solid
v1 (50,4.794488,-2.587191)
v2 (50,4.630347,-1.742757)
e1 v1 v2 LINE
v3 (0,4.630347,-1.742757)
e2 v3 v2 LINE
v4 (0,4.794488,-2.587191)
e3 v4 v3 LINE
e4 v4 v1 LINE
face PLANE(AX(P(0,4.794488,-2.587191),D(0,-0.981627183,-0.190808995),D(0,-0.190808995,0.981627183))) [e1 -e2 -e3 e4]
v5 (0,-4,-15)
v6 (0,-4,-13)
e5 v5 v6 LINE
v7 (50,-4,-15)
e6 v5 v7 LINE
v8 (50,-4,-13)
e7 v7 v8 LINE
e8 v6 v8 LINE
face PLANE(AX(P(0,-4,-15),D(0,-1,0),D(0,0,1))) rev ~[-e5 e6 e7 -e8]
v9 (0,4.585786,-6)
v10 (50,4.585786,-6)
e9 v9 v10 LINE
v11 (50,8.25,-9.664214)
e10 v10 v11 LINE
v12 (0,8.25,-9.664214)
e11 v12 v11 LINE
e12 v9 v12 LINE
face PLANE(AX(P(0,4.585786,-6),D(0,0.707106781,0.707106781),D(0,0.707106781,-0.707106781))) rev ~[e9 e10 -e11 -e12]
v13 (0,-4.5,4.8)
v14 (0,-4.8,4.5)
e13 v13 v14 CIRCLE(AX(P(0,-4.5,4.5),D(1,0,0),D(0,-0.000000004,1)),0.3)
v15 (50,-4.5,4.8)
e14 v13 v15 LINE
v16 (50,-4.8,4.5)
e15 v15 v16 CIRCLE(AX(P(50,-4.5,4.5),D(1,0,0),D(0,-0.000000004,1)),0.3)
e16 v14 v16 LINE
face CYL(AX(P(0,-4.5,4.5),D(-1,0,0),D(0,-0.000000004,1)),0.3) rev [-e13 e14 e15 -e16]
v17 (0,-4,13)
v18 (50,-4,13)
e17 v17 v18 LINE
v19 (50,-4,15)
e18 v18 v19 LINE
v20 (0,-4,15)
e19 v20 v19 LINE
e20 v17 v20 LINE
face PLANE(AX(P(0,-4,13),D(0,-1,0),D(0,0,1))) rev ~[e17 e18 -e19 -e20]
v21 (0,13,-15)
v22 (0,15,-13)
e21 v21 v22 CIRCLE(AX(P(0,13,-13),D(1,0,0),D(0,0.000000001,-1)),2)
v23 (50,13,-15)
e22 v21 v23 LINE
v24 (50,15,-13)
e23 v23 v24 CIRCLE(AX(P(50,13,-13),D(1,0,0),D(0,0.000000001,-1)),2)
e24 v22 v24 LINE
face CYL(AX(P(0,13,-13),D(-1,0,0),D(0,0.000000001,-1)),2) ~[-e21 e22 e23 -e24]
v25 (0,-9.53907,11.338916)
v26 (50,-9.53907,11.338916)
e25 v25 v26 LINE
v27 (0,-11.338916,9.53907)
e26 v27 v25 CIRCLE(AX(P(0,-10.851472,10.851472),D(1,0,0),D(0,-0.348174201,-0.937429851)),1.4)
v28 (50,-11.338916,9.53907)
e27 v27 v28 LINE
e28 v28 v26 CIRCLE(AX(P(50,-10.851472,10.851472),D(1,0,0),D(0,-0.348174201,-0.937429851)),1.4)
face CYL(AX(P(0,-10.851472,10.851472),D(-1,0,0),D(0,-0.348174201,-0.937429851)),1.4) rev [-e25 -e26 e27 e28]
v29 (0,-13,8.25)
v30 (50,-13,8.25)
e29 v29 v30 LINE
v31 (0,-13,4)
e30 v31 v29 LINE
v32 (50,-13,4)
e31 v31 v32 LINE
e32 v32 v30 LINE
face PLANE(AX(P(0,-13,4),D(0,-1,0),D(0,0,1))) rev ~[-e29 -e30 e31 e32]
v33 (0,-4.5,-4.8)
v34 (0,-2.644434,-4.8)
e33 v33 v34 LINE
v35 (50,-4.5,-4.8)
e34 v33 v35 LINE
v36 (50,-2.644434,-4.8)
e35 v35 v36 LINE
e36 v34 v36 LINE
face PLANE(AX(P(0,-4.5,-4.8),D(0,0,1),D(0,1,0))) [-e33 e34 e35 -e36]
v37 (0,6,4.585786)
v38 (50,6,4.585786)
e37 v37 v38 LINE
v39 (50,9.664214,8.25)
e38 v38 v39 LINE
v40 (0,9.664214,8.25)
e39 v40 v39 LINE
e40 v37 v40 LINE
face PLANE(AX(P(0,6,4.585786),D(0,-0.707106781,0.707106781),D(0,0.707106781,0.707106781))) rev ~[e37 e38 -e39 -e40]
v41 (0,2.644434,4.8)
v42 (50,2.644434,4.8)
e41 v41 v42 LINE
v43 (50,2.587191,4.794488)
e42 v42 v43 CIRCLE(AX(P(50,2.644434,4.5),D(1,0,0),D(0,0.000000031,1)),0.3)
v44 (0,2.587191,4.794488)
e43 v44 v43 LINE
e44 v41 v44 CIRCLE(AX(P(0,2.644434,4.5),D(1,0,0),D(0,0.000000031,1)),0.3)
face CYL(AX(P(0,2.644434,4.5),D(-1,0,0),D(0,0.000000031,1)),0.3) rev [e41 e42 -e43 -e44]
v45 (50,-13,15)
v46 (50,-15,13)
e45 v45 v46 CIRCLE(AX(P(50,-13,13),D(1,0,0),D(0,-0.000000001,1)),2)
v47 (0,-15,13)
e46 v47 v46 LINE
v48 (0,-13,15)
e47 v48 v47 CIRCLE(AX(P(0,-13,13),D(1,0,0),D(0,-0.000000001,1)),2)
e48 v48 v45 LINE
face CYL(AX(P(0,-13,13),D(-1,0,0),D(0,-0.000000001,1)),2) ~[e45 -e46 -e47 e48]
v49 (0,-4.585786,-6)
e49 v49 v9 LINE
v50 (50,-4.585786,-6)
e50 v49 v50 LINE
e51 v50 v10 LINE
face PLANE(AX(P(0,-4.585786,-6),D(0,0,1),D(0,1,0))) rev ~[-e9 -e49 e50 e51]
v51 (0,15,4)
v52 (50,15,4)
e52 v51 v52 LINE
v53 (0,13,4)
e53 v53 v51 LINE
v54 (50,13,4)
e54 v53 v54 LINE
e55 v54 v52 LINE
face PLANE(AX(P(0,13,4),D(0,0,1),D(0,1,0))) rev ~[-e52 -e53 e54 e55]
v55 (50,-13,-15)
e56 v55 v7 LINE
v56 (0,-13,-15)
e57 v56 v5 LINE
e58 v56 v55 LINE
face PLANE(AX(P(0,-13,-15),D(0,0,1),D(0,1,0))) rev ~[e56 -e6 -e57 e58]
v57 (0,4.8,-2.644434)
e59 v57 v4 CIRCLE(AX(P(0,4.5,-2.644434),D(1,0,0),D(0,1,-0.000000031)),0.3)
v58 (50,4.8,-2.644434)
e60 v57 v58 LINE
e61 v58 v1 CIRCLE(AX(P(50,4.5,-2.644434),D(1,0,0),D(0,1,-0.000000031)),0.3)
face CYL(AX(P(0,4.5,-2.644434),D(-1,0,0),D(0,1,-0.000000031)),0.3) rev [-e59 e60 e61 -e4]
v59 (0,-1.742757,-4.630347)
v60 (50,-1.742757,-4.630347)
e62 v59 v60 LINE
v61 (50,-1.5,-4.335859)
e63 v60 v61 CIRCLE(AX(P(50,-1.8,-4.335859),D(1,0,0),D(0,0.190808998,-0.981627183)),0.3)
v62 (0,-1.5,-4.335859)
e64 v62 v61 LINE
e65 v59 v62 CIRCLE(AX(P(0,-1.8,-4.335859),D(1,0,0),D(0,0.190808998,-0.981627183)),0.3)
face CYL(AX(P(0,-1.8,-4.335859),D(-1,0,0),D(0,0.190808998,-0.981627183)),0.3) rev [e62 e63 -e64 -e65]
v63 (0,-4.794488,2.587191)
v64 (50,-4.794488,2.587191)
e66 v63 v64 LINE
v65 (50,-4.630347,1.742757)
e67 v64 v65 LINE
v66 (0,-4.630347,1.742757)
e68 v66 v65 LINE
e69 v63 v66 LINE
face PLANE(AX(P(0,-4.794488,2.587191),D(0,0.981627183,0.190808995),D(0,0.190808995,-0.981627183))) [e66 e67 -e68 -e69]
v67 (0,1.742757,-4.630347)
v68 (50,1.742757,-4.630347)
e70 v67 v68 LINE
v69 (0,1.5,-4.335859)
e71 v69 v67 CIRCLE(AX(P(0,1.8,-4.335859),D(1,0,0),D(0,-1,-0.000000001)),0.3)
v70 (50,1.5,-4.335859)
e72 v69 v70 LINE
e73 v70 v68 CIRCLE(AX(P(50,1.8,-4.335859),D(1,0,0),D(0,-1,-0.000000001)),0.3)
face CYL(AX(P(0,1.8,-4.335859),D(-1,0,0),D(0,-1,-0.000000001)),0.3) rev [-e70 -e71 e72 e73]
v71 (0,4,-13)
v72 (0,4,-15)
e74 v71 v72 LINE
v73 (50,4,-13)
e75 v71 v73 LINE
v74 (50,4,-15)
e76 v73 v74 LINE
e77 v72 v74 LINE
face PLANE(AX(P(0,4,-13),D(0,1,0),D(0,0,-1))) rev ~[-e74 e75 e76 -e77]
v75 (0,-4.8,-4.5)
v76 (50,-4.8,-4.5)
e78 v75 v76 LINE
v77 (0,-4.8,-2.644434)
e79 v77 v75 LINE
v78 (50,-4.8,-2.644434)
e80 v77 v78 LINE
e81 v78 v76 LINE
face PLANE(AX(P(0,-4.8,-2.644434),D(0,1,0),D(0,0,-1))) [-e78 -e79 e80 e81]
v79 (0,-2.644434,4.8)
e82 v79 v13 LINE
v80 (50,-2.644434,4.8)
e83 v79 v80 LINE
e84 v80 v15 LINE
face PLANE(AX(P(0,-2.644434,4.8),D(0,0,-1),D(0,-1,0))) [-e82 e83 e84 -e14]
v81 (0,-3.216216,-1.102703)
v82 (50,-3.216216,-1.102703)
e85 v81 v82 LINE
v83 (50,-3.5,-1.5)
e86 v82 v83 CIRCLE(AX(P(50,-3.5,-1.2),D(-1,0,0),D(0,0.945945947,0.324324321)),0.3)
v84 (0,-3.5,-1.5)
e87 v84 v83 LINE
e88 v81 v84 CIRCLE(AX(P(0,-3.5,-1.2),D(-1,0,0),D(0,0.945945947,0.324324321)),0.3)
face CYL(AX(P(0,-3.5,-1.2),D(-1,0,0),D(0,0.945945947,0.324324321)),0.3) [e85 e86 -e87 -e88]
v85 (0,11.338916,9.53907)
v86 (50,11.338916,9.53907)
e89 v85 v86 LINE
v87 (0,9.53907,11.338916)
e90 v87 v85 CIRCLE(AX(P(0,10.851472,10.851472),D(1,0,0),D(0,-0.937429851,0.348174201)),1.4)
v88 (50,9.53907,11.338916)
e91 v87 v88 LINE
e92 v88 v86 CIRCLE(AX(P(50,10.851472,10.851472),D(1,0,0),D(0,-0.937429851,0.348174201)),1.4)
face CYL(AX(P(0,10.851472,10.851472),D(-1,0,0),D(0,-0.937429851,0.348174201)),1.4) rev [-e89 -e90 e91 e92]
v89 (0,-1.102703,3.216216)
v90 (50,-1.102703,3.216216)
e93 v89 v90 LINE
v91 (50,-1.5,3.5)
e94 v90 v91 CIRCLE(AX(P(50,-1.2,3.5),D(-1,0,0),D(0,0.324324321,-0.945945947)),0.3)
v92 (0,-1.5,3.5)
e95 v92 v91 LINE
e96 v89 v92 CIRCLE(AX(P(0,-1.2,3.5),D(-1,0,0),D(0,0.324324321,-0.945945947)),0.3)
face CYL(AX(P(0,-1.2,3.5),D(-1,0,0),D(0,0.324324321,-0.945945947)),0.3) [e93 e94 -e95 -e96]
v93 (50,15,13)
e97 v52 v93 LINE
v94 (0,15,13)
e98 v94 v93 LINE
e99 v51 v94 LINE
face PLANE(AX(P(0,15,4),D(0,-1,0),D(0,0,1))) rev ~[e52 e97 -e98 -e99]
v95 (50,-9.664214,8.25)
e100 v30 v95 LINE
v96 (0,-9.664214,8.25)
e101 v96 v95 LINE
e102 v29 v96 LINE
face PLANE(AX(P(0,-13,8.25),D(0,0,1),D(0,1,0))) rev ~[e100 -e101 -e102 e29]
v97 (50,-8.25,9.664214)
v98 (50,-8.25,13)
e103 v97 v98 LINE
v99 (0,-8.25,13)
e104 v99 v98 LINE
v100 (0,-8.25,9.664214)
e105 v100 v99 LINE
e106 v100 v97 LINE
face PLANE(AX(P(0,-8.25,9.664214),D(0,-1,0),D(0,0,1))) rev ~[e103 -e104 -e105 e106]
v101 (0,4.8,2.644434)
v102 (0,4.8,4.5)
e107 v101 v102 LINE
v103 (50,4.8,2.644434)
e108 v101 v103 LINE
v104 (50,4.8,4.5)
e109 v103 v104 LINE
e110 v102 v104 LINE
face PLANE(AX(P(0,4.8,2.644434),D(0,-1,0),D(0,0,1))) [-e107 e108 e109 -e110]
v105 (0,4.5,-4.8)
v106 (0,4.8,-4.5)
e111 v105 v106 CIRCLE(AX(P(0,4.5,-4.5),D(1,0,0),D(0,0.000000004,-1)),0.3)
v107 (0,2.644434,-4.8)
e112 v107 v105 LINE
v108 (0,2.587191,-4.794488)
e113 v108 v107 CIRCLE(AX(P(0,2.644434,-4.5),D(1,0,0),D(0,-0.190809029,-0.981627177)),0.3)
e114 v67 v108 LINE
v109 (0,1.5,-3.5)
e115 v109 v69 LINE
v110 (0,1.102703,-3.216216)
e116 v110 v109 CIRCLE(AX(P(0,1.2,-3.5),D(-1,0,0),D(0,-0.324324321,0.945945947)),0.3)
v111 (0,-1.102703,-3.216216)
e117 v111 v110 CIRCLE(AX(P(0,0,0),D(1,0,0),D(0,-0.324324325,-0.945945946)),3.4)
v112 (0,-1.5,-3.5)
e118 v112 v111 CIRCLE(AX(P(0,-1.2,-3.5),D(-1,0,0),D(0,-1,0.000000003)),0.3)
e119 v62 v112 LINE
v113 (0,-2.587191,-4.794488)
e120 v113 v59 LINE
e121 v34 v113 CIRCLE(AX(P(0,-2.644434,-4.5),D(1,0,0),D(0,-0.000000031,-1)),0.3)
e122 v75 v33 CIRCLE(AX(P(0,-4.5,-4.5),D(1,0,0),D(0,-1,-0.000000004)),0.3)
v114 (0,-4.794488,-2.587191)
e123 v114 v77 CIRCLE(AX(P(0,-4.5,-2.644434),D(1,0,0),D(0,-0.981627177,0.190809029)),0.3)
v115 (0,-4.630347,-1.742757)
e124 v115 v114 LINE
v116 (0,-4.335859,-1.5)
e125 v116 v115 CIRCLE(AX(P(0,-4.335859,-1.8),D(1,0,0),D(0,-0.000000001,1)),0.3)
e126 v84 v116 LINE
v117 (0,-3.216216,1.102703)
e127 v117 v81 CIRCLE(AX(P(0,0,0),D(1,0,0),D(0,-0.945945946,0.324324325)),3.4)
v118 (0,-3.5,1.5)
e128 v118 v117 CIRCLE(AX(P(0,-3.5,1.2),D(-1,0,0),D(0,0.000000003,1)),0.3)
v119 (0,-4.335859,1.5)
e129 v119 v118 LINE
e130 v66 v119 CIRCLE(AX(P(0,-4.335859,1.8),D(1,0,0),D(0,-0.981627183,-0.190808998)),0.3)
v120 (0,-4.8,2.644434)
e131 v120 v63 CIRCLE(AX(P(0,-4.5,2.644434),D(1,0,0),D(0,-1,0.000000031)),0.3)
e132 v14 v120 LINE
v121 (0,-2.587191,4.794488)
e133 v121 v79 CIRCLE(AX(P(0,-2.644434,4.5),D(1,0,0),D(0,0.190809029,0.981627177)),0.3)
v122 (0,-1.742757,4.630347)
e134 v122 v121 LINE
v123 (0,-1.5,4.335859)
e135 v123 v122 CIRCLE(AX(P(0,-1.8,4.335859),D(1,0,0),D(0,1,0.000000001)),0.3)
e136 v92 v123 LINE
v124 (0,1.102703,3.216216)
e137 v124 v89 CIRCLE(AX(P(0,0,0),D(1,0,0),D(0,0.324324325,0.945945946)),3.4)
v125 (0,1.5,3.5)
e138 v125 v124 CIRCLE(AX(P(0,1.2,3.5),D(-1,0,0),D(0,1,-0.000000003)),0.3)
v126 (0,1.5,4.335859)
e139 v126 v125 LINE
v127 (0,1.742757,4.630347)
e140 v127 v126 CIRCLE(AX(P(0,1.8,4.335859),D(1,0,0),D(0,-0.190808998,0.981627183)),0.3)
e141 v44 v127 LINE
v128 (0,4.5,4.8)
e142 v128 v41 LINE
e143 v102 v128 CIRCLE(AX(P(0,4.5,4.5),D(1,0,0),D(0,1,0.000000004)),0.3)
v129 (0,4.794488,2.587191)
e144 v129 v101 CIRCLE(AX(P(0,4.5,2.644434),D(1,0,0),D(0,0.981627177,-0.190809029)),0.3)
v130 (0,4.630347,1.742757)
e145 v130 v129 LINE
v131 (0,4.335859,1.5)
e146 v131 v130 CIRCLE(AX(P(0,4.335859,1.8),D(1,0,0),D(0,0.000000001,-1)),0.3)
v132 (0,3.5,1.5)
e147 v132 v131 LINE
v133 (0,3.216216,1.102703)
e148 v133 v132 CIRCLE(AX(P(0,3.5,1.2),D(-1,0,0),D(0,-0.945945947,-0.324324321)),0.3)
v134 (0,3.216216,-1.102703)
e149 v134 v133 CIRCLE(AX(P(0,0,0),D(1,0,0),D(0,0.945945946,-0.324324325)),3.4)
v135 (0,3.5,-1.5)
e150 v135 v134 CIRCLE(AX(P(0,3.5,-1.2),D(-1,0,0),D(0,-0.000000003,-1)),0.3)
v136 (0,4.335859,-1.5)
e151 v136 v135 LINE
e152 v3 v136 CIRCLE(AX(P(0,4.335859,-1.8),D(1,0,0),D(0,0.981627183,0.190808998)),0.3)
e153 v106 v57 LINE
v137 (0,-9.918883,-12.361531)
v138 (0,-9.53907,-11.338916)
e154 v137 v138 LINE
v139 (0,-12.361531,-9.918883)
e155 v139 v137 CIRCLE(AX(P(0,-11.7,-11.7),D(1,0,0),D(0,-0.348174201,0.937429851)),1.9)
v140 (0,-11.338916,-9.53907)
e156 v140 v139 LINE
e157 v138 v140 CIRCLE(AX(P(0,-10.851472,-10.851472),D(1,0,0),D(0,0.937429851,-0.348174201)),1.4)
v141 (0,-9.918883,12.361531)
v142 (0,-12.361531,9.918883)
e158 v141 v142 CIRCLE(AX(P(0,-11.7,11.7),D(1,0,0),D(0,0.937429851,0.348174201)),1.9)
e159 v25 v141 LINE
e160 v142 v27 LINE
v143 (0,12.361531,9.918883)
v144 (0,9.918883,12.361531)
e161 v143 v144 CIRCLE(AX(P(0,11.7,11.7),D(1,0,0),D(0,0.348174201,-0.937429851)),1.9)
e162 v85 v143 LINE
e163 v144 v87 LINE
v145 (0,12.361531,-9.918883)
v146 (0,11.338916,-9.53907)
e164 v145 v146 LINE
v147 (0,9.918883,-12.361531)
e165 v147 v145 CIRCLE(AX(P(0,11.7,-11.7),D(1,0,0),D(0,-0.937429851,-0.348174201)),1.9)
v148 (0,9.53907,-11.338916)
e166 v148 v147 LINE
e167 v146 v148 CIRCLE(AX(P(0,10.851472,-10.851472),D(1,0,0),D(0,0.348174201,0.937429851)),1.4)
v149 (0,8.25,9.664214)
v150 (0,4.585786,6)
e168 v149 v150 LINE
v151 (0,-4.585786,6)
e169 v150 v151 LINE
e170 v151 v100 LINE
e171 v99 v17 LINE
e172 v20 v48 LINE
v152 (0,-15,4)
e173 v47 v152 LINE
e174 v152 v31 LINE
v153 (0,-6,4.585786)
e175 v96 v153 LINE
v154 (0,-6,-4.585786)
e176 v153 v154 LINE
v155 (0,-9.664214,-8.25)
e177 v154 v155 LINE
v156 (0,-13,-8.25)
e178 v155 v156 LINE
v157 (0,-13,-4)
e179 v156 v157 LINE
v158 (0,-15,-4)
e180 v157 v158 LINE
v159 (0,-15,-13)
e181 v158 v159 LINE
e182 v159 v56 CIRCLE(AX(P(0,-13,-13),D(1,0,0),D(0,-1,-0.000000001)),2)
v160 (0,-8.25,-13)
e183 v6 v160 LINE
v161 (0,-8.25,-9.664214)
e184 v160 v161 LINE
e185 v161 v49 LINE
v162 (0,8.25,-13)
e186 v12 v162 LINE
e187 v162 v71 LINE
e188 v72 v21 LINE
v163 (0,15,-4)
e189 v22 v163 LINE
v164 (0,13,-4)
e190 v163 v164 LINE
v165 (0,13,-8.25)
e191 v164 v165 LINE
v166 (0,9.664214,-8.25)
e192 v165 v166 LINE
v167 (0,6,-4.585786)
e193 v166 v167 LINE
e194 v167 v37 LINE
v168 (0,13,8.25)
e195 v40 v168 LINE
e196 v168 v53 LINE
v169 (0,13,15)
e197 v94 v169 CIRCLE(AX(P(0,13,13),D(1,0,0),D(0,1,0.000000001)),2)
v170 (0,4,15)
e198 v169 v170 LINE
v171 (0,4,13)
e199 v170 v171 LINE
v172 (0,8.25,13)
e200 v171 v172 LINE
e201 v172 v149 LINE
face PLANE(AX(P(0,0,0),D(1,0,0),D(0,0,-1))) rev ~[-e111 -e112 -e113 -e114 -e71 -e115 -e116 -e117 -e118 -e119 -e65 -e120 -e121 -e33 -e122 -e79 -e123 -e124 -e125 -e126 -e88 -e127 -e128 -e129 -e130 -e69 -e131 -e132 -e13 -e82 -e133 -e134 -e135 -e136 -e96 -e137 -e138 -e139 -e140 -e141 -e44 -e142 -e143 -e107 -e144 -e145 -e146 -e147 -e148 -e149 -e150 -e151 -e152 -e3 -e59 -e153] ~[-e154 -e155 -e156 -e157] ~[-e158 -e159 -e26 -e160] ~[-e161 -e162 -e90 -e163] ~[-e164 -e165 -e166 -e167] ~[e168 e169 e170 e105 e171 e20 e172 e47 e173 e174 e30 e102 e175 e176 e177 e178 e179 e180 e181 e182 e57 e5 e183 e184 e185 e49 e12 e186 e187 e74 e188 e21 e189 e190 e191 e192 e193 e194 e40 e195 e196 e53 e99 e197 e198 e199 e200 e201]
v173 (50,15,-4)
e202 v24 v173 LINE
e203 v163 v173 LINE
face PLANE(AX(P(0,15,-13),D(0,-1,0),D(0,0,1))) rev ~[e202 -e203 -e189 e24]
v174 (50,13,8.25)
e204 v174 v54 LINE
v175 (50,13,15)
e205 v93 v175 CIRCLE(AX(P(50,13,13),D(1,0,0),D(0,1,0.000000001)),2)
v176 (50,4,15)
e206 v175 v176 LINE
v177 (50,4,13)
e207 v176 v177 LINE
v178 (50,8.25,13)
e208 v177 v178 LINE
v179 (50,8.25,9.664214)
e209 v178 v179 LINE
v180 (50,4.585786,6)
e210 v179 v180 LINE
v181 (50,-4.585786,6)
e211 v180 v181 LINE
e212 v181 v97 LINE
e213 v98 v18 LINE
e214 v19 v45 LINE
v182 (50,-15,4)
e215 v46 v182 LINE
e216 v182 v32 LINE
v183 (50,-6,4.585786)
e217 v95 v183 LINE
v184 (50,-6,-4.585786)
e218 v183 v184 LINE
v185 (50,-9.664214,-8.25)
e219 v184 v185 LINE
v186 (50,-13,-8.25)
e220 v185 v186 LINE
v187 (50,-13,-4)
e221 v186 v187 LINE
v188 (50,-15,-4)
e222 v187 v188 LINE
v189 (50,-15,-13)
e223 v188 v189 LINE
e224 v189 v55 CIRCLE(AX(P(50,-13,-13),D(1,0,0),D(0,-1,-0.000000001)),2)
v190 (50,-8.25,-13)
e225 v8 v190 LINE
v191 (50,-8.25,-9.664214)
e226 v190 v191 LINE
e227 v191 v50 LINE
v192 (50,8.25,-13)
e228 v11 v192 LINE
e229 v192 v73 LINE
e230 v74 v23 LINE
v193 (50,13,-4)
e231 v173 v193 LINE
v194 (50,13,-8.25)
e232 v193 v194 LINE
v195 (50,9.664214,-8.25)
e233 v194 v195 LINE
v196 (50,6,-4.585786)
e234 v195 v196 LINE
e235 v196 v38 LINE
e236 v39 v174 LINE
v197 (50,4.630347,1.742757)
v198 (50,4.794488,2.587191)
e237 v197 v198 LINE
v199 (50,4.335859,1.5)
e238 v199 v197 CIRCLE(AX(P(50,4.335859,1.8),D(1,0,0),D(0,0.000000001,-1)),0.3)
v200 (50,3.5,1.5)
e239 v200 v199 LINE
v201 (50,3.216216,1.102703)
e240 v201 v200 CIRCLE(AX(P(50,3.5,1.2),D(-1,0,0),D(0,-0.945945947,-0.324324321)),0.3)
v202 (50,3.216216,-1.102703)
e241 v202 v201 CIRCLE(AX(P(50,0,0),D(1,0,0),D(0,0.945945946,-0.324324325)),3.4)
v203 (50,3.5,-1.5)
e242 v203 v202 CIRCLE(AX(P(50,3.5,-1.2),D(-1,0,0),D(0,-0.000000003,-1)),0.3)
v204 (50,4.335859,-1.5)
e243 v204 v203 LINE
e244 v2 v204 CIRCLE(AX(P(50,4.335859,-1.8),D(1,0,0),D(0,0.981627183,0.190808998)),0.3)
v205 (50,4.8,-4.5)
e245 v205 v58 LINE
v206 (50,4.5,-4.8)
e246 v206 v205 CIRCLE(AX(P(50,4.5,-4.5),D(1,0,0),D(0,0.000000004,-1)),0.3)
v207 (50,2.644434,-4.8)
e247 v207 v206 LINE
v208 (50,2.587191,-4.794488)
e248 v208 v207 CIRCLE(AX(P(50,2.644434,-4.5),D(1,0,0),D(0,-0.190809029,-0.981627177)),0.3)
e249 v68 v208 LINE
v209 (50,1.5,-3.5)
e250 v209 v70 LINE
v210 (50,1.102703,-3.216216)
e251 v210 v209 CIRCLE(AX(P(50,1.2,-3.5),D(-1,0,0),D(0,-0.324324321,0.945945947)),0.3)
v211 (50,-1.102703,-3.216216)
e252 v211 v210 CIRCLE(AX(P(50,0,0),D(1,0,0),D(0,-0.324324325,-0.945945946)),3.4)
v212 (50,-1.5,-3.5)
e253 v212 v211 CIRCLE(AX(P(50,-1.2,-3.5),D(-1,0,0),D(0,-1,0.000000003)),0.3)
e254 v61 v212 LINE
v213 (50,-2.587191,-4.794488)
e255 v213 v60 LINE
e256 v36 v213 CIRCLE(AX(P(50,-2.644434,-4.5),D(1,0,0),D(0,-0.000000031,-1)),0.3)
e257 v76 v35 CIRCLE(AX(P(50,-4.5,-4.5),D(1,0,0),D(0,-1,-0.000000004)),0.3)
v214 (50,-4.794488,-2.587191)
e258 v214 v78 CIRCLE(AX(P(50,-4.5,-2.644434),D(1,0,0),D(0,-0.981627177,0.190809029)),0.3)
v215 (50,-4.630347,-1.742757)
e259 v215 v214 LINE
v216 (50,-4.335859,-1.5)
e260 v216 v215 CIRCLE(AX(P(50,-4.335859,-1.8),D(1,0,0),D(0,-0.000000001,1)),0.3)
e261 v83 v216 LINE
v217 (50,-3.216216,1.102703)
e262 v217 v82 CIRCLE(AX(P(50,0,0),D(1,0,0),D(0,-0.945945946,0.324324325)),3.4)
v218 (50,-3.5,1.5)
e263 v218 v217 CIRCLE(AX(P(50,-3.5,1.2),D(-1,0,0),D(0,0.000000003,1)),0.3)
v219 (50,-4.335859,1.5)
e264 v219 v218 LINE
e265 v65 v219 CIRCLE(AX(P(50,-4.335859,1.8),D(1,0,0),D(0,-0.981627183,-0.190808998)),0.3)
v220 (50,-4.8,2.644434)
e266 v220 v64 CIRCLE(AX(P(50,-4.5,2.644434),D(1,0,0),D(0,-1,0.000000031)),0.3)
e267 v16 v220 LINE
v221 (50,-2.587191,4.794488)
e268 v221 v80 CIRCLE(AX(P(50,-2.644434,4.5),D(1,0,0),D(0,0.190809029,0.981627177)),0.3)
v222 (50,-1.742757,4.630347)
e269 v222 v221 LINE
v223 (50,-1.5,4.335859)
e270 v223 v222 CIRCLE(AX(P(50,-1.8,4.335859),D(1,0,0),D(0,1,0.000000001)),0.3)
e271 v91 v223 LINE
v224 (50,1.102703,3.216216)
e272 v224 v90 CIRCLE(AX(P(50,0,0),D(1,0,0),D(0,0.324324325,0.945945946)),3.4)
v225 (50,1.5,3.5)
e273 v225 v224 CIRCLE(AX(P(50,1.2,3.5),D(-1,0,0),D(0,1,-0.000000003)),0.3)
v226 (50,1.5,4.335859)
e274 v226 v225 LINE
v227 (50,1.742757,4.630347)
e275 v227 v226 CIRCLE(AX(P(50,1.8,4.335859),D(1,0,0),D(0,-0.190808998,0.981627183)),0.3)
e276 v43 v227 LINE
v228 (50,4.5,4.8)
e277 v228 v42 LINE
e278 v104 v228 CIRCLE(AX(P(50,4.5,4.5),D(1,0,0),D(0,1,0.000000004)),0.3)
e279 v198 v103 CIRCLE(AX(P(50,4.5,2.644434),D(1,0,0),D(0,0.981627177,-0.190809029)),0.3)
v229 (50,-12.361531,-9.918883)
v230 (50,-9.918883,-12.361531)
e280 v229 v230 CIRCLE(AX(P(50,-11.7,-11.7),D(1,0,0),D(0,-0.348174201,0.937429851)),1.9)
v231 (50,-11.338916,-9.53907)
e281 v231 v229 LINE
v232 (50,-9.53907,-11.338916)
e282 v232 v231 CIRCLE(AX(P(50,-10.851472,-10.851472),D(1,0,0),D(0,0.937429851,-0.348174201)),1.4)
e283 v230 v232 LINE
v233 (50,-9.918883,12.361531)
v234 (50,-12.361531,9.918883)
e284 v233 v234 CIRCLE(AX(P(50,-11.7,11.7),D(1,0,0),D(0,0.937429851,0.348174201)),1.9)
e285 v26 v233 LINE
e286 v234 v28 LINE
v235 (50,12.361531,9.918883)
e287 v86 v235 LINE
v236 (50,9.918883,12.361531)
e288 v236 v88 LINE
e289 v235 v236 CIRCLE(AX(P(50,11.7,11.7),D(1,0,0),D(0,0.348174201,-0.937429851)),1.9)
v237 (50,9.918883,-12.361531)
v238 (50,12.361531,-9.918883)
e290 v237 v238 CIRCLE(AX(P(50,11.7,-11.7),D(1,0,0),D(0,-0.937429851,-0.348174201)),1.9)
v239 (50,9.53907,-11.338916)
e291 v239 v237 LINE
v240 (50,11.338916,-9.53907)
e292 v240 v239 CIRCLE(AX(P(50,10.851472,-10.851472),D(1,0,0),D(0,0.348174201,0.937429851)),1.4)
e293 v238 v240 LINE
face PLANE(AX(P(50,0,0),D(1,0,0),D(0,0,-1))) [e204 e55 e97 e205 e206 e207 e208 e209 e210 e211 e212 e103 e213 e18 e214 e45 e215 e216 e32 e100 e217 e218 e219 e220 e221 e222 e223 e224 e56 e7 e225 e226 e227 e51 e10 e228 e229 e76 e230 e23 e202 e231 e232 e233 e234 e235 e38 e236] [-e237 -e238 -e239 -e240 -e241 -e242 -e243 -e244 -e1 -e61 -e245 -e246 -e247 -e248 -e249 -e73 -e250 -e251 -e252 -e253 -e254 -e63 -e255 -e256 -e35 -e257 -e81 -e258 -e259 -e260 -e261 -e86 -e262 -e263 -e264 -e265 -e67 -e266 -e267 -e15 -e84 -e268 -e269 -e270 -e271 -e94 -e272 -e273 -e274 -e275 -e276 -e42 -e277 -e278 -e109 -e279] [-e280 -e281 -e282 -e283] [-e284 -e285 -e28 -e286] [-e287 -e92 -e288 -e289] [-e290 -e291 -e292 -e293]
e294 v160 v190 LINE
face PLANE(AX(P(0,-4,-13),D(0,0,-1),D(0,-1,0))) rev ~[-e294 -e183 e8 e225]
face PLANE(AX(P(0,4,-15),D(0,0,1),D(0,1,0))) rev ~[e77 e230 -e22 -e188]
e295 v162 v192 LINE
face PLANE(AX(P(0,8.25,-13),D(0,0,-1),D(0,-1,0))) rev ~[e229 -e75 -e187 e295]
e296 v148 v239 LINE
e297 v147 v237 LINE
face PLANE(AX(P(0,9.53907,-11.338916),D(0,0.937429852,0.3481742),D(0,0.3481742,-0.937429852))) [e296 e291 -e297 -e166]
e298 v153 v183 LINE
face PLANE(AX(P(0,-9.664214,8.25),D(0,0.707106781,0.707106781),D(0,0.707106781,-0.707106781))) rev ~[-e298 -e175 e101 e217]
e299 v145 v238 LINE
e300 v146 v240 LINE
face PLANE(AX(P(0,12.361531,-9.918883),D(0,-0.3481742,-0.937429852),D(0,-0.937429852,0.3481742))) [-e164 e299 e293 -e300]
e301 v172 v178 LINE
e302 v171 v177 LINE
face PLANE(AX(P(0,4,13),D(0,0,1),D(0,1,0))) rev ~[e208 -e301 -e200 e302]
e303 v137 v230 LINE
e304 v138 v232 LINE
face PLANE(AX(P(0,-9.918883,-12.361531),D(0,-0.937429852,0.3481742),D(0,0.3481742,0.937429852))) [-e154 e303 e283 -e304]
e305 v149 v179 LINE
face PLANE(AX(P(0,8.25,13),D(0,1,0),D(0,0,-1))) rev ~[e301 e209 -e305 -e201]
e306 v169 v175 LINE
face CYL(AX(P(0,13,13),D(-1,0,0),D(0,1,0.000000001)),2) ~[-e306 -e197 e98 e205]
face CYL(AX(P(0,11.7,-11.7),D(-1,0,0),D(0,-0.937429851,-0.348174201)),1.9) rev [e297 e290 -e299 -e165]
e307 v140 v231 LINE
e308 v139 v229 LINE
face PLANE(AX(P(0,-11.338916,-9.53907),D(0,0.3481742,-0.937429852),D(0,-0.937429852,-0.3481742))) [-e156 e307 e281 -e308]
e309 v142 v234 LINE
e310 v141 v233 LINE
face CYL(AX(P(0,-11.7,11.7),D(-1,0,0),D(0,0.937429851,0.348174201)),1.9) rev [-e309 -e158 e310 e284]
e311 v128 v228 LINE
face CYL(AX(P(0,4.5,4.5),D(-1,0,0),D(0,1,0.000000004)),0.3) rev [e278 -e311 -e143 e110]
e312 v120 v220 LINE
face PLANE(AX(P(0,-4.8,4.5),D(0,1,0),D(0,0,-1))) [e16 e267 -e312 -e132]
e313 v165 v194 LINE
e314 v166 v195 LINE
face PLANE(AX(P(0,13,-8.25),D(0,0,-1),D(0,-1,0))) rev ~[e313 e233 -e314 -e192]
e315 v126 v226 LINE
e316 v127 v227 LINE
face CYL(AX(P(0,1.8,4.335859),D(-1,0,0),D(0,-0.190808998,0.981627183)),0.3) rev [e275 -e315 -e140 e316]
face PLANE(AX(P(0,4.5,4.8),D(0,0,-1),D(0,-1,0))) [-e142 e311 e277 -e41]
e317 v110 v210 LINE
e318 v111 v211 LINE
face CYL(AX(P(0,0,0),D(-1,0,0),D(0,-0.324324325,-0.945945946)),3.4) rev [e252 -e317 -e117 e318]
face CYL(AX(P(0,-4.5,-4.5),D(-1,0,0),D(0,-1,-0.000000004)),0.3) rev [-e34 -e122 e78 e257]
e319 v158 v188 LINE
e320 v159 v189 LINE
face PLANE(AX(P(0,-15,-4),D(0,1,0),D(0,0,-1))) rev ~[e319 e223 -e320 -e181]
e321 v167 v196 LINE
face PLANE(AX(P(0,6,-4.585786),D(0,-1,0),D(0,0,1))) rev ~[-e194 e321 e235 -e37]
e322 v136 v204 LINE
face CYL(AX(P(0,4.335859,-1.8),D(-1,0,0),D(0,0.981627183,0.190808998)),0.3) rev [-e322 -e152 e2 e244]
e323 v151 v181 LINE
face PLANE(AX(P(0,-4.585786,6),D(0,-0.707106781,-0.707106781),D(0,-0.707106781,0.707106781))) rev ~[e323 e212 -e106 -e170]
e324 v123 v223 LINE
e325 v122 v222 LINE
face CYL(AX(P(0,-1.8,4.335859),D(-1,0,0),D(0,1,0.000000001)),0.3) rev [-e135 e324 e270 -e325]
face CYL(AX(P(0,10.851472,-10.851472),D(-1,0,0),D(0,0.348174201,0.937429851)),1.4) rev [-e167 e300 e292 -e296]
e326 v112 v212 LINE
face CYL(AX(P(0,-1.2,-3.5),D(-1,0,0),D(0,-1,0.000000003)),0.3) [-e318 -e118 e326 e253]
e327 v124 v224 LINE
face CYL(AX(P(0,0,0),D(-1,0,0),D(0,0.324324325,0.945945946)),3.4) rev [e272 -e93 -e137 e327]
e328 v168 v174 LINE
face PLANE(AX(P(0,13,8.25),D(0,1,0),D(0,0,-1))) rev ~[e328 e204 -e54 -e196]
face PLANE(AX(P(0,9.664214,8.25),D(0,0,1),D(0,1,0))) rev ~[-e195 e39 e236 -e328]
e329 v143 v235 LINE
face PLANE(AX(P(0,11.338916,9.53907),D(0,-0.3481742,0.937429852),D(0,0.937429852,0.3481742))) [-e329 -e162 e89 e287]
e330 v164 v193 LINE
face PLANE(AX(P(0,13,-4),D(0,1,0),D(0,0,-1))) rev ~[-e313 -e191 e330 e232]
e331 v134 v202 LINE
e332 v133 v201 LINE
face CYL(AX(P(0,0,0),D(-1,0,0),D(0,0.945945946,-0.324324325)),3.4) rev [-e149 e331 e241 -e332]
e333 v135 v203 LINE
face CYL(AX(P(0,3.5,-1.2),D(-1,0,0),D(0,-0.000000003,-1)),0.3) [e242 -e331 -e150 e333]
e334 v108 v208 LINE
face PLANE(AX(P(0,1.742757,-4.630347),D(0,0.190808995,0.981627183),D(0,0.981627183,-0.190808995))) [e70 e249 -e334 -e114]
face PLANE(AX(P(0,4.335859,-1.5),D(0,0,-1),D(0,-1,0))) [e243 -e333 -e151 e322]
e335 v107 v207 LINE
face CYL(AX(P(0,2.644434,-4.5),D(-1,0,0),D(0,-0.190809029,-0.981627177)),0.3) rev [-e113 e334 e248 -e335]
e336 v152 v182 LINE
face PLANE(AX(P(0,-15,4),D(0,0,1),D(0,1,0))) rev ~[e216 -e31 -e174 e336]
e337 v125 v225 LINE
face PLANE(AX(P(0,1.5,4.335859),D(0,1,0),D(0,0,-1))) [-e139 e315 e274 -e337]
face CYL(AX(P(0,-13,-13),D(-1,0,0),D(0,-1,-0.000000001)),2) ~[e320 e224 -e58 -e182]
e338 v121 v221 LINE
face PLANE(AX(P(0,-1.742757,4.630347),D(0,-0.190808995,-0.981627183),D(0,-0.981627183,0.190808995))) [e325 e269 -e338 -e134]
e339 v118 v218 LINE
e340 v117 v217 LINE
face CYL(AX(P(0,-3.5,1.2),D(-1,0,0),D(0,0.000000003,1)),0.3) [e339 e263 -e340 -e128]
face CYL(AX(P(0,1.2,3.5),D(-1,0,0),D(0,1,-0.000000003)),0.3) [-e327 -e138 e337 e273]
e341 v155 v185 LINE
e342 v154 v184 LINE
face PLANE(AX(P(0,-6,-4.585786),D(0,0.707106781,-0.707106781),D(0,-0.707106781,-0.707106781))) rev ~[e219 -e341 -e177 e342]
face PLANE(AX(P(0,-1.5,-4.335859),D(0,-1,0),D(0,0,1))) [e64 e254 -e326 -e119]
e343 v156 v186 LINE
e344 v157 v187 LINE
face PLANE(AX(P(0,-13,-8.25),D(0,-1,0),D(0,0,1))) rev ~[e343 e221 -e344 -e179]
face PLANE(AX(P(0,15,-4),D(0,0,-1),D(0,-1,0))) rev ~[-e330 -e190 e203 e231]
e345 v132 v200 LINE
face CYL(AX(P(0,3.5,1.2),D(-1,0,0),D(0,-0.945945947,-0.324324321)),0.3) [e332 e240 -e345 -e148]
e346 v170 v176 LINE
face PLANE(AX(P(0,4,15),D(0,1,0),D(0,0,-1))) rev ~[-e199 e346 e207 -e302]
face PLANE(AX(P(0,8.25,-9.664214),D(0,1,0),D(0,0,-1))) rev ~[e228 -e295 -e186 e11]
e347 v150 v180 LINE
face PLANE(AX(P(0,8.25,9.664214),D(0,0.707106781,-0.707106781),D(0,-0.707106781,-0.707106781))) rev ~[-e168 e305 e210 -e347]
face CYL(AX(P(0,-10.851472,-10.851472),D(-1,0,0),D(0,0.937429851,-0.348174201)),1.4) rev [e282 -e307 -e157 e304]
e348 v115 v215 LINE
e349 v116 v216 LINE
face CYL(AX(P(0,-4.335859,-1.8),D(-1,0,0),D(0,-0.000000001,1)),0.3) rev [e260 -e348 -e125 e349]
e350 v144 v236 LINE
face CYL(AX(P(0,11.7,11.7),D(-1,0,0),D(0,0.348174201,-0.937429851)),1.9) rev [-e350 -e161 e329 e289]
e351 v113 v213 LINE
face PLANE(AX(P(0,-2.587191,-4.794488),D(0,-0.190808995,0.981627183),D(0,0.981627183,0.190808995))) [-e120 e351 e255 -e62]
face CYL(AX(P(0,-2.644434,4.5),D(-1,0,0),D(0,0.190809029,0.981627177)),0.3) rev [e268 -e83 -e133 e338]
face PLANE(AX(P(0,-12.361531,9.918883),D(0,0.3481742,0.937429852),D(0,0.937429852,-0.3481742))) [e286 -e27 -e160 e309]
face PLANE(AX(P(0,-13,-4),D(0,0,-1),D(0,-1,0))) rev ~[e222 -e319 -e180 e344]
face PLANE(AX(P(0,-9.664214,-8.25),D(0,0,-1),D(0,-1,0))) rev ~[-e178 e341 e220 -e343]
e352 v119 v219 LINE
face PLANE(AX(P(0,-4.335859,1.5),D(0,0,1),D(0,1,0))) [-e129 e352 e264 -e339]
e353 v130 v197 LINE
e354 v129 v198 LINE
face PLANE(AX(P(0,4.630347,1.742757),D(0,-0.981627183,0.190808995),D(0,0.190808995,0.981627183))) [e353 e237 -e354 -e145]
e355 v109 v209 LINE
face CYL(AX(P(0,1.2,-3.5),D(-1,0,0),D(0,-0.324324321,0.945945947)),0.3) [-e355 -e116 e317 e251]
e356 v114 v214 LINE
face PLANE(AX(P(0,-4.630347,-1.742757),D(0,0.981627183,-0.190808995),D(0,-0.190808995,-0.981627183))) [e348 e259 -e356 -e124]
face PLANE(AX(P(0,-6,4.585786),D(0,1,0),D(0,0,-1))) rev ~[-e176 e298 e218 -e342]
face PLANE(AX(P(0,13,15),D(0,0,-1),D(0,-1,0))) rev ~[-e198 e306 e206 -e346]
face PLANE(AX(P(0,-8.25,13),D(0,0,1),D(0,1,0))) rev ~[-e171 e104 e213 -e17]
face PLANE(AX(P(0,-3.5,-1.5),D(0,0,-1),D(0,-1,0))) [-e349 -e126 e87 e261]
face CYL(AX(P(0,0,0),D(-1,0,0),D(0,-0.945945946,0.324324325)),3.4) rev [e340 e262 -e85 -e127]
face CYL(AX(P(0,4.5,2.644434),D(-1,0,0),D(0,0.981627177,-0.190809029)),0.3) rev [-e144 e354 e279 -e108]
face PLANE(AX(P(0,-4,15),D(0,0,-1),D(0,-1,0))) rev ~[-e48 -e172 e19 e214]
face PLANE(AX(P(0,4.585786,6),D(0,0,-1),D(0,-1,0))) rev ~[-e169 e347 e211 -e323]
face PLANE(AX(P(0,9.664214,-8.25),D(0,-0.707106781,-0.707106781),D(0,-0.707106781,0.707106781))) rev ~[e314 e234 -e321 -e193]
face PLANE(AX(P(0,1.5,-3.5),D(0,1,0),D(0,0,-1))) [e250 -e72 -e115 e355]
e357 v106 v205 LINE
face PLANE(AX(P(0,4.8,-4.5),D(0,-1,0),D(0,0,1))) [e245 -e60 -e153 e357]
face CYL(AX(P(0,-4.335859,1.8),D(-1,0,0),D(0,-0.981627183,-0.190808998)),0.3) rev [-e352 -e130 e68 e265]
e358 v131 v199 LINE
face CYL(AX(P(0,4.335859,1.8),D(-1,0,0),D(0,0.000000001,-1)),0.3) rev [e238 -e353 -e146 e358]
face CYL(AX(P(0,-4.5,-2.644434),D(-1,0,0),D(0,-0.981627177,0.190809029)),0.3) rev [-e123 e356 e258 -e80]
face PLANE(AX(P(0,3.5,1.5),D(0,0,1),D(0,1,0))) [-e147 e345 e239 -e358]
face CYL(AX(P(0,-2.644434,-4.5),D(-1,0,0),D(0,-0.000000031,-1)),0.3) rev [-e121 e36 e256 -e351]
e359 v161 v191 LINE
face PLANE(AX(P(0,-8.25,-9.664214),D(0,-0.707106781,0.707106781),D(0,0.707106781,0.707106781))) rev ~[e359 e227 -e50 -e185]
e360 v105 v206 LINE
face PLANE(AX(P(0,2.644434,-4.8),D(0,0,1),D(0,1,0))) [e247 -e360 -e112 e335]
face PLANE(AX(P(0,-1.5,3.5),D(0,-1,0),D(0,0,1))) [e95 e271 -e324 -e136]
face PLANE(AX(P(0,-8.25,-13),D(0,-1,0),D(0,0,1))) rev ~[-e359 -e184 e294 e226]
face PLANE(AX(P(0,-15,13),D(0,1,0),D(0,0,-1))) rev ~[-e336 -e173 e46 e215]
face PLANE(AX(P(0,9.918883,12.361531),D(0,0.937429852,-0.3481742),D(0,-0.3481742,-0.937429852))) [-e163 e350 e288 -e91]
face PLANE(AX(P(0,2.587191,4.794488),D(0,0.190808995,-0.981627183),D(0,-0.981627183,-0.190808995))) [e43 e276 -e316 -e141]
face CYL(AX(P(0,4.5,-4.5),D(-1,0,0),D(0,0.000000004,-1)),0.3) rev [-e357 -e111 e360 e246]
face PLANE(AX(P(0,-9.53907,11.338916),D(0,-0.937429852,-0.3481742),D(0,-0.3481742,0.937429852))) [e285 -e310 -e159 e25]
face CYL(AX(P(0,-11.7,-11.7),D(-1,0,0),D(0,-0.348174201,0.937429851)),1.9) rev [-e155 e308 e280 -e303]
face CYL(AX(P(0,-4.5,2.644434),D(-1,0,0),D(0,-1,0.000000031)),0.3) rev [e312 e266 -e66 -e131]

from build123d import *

# Parameters (mm, degrees)
BOSS_EXTRUDE1_DEPTH = 50


with BuildPart() as part:
    # Sketch1 → Boss-Extrude1 (new body)
    with BuildSketch(Plane(origin=(0, 0, 0), x_dir=(0, 0, -1), z_dir=(1, 0, 0))):
        with BuildLine():
            Line((-15, 13), (-15, 4))
            Line((-15, 4), (-13, 4))
            Line((-13, 4), (-13, 8.25))
            Line((-13, 8.25), (-9.664213562, 8.25))
            Line((-9.664213562, 8.25), (-6, 4.585786438))
            Line((-6, 4.585786438), (-6, -4.585786438))
            Line((-6, -4.585786438), (-9.664213562, -8.25))
            Line((-9.664213562, -8.25), (-13, -8.25))
            Line((-13, -8.25), (-13, -4))
            Line((-13, -4), (-15, -4))
            Line((-15, -4), (-15, -13))
            ThreePointArc((-15, -13), (-14.414213562, -14.414213562), (-13, -15))
            Line((-13, -15), (-4, -15))
            Line((-4, -15), (-4, -13))
            Line((-4, -13), (-8.25, -13))
            Line((-8.25, -13), (-8.25, -9.664213562))
            Line((-8.25, -9.664213562), (-4.585786438, -6))
            Line((-4.585786438, -6), (4.585786438, -6))
            Line((4.585786438, -6), (8.25, -9.664213562))
            Line((8.25, -9.664213562), (8.25, -13))
            Line((8.25, -13), (4, -13))
            Line((4, -13), (4, -15))
            Line((4, -15), (13, -15))
            ThreePointArc((13, -15), (14.414213562, -14.414213562), (15, -13))
            Line((15, -13), (15, -4))
            Line((15, -4), (13, -4))
            Line((13, -4), (13, -8.25))
            Line((13, -8.25), (9.664213562, -8.25))
            Line((9.664213562, -8.25), (6, -4.585786438))
            Line((6, -4.585786438), (6, 4.585786438))
            Line((6, 4.585786438), (9.664213562, 8.25))
            Line((9.664213562, 8.25), (13, 8.25))
            Line((13, 8.25), (13, 4))
            Line((13, 4), (15, 4))
            Line((15, 4), (15, 13))
            ThreePointArc((15, 13), (14.414213562, 14.414213562), (13, 15))
            Line((13, 15), (4, 15))
            Line((4, 15), (4, 13))
            Line((4, 13), (8.25, 13))
            Line((8.25, 13), (8.25, 9.664213562))
            Line((8.25, 9.664213562), (4.585786438, 6))
            Line((4.585786438, 6), (-4.585786438, 6))
            Line((-4.585786438, 6), (-8.25, 9.664213562))
            Line((-8.25, 9.664213562), (-8.25, 13))
            Line((-8.25, 13), (-4, 13))
            Line((-4, 13), (-4, 15))
            Line((-4, 15), (-13, 15))
            ThreePointArc((-13, 15), (-14.414213562, 14.414213562), (-15, 13))
        make_face()
        with BuildLine():
            Line((-9.539070071, 11.338915743), (-9.918883282, 12.361530981))
            ThreePointArc((-9.918883282, 12.361530981), (-13.043502884, 13.043502884), (-12.361530981, 9.918883282))
            Line((-12.361530981, 9.918883282), (-11.338915743, 9.539070071))
            ThreePointArc((-11.338915743, 9.539070071), (-9.861522369, 9.861522369), (-9.539070071, 11.338915743))
        make_face(mode=Mode.SUBTRACT)
        with BuildLine():
            Line((9.918883282, 12.361530981), (9.539070071, 11.338915743))
            ThreePointArc((9.539070071, 11.338915743), (9.861522369, 9.861522369), (11.338915743, 9.539070071))
            Line((11.338915743, 9.539070071), (12.361530981, 9.918883282))
            ThreePointArc((12.361530981, 9.918883282), (13.043502884, 13.043502884), (9.918883282, 12.361530981))
        make_face(mode=Mode.SUBTRACT)
        with BuildLine():
            Line((12.361530981, -9.918883282), (11.338915743, -9.539070071))
            ThreePointArc((11.338915743, -9.539070071), (9.861522369, -9.861522369), (9.539070071, -11.338915743))
            Line((9.539070071, -11.338915743), (9.918883282, -12.361530981))
            ThreePointArc((9.918883282, -12.361530981), (13.043502884, -13.043502884), (12.361530981, -9.918883282))
        make_face(mode=Mode.SUBTRACT)
        with BuildLine():
            Line((-11.338915743, -9.539070071), (-12.361530981, -9.918883282))
            ThreePointArc((-12.361530981, -9.918883282), (-13.043502884, -13.043502884), (-9.918883282, -12.361530981))
            Line((-9.918883282, -12.361530981), (-9.539070071, -11.338915743))
            ThreePointArc((-9.539070071, -11.338915743), (-9.861522369, -9.861522369), (-11.338915743, -9.539070071))
        make_face(mode=Mode.SUBTRACT)
        with BuildLine():
            Line((-4.8, -2.644433572), (-4.8, -4.5))
            ThreePointArc((-4.8, -4.5), (-4.712132034, -4.712132034), (-4.5, -4.8))
            Line((-4.5, -4.8), (-2.644433572, -4.8))
            ThreePointArc((-2.644433572, -4.8), (-2.615679847, -4.79861886), (-2.587190874, -4.794488155))
            Line((-2.587190874, -4.794488155), (-1.742757301, -4.630346896))
            ThreePointArc((-1.742757301, -4.630346896), (-1.568512625, -4.526682207), (-1.5, -4.335858741))
            Line((-1.5, -4.335858741), (-1.5, -3.5))
            ThreePointArc((-1.5, -3.5), (-1.374371458, -3.255879959), (-1.102702703, -3.216216216))
            ThreePointArc((-1.102702703, -3.216216216), (0, -3.4), (1.102702703, -3.216216216))
            ThreePointArc((1.102702703, -3.216216216), (1.374371458, -3.255879959), (1.5, -3.5))
            Line((1.5, -3.5), (1.5, -4.335858741))
            ThreePointArc((1.5, -4.335858741), (1.568512625, -4.526682207), (1.742757301, -4.630346896))
            Line((1.742757301, -4.630346896), (2.587190874, -4.794488155))
            ThreePointArc((2.587190874, -4.794488155), (2.615679847, -4.79861886), (2.644433572, -4.8))
            Line((2.644433572, -4.8), (4.5, -4.8))
            ThreePointArc((4.5, -4.8), (4.712132034, -4.712132034), (4.8, -4.5))
            Line((4.8, -4.5), (4.8, -2.644433572))
            ThreePointArc((4.8, -2.644433572), (4.79861886, -2.615679847), (4.794488155, -2.587190874))
            Line((4.794488155, -2.587190874), (4.630346896, -1.742757301))
            ThreePointArc((4.630346896, -1.742757301), (4.526682207, -1.568512625), (4.335858741, -1.5))
            Line((4.335858741, -1.5), (3.5, -1.5))
            ThreePointArc((3.5, -1.5), (3.255879959, -1.374371458), (3.216216216, -1.102702703))
            ThreePointArc((3.216216216, -1.102702703), (3.4, 0), (3.216216216, 1.102702703))
            ThreePointArc((3.216216216, 1.102702703), (3.255879959, 1.374371458), (3.5, 1.5))
            Line((3.5, 1.5), (4.335858741, 1.5))
            ThreePointArc((4.335858741, 1.5), (4.526682207, 1.568512625), (4.630346896, 1.742757301))
            Line((4.630346896, 1.742757301), (4.794488155, 2.587190874))
            ThreePointArc((4.794488155, 2.587190874), (4.79861886, 2.615679847), (4.8, 2.644433572))
            Line((4.8, 2.644433572), (4.8, 4.5))
            ThreePointArc((4.8, 4.5), (4.712132034, 4.712132034), (4.5, 4.8))
            Line((4.5, 4.8), (2.644433572, 4.8))
            ThreePointArc((2.644433572, 4.8), (2.615679847, 4.79861886), (2.587190874, 4.794488155))
            Line((2.587190874, 4.794488155), (1.742757301, 4.630346896))
            ThreePointArc((1.742757301, 4.630346896), (1.568512625, 4.526682207), (1.5, 4.335858741))
            Line((1.5, 4.335858741), (1.5, 3.5))
            ThreePointArc((1.5, 3.5), (1.374371458, 3.255879959), (1.102702703, 3.216216216))
            ThreePointArc((1.102702703, 3.216216216), (0, 3.4), (-1.102702703, 3.216216216))
            ThreePointArc((-1.102702703, 3.216216216), (-1.374371458, 3.255879959), (-1.5, 3.5))
            Line((-1.5, 3.5), (-1.5, 4.335858741))
            ThreePointArc((-1.5, 4.335858741), (-1.568512625, 4.526682207), (-1.742757301, 4.630346896))
            Line((-1.742757301, 4.630346896), (-2.587190874, 4.794488155))
            ThreePointArc((-2.587190874, 4.794488155), (-2.615679847, 4.79861886), (-2.644433572, 4.8))
            Line((-2.644433572, 4.8), (-4.5, 4.8))
            ThreePointArc((-4.5, 4.8), (-4.712132034, 4.712132034), (-4.8, 4.5))
            Line((-4.8, 4.5), (-4.8, 2.644433572))
            ThreePointArc((-4.8, 2.644433572), (-4.79861886, 2.615679847), (-4.794488155, 2.587190874))
            Line((-4.794488155, 2.587190874), (-4.630346896, 1.742757301))
            ThreePointArc((-4.630346896, 1.742757301), (-4.526682207, 1.568512625), (-4.335858741, 1.5))
            Line((-4.335858741, 1.5), (-3.5, 1.5))
            ThreePointArc((-3.5, 1.5), (-3.255879959, 1.374371458), (-3.216216216, 1.102702703))
            ThreePointArc((-3.216216216, 1.102702703), (-3.4, 0), (-3.216216216, -1.102702703))
            ThreePointArc((-3.216216216, -1.102702703), (-3.255879959, -1.374371458), (-3.5, -1.5))
            Line((-3.5, -1.5), (-4.335858741, -1.5))
            ThreePointArc((-4.335858741, -1.5), (-4.526682207, -1.568512625), (-4.630346896, -1.742757301))
            Line((-4.630346896, -1.742757301), (-4.794488155, -2.587190874))
            ThreePointArc((-4.794488155, -2.587190874), (-4.79861886, -2.615679847), (-4.8, -2.644433572))
        make_face(mode=Mode.SUBTRACT)
    extrude(amount=BOSS_EXTRUDE1_DEPTH)


solid = part.part
